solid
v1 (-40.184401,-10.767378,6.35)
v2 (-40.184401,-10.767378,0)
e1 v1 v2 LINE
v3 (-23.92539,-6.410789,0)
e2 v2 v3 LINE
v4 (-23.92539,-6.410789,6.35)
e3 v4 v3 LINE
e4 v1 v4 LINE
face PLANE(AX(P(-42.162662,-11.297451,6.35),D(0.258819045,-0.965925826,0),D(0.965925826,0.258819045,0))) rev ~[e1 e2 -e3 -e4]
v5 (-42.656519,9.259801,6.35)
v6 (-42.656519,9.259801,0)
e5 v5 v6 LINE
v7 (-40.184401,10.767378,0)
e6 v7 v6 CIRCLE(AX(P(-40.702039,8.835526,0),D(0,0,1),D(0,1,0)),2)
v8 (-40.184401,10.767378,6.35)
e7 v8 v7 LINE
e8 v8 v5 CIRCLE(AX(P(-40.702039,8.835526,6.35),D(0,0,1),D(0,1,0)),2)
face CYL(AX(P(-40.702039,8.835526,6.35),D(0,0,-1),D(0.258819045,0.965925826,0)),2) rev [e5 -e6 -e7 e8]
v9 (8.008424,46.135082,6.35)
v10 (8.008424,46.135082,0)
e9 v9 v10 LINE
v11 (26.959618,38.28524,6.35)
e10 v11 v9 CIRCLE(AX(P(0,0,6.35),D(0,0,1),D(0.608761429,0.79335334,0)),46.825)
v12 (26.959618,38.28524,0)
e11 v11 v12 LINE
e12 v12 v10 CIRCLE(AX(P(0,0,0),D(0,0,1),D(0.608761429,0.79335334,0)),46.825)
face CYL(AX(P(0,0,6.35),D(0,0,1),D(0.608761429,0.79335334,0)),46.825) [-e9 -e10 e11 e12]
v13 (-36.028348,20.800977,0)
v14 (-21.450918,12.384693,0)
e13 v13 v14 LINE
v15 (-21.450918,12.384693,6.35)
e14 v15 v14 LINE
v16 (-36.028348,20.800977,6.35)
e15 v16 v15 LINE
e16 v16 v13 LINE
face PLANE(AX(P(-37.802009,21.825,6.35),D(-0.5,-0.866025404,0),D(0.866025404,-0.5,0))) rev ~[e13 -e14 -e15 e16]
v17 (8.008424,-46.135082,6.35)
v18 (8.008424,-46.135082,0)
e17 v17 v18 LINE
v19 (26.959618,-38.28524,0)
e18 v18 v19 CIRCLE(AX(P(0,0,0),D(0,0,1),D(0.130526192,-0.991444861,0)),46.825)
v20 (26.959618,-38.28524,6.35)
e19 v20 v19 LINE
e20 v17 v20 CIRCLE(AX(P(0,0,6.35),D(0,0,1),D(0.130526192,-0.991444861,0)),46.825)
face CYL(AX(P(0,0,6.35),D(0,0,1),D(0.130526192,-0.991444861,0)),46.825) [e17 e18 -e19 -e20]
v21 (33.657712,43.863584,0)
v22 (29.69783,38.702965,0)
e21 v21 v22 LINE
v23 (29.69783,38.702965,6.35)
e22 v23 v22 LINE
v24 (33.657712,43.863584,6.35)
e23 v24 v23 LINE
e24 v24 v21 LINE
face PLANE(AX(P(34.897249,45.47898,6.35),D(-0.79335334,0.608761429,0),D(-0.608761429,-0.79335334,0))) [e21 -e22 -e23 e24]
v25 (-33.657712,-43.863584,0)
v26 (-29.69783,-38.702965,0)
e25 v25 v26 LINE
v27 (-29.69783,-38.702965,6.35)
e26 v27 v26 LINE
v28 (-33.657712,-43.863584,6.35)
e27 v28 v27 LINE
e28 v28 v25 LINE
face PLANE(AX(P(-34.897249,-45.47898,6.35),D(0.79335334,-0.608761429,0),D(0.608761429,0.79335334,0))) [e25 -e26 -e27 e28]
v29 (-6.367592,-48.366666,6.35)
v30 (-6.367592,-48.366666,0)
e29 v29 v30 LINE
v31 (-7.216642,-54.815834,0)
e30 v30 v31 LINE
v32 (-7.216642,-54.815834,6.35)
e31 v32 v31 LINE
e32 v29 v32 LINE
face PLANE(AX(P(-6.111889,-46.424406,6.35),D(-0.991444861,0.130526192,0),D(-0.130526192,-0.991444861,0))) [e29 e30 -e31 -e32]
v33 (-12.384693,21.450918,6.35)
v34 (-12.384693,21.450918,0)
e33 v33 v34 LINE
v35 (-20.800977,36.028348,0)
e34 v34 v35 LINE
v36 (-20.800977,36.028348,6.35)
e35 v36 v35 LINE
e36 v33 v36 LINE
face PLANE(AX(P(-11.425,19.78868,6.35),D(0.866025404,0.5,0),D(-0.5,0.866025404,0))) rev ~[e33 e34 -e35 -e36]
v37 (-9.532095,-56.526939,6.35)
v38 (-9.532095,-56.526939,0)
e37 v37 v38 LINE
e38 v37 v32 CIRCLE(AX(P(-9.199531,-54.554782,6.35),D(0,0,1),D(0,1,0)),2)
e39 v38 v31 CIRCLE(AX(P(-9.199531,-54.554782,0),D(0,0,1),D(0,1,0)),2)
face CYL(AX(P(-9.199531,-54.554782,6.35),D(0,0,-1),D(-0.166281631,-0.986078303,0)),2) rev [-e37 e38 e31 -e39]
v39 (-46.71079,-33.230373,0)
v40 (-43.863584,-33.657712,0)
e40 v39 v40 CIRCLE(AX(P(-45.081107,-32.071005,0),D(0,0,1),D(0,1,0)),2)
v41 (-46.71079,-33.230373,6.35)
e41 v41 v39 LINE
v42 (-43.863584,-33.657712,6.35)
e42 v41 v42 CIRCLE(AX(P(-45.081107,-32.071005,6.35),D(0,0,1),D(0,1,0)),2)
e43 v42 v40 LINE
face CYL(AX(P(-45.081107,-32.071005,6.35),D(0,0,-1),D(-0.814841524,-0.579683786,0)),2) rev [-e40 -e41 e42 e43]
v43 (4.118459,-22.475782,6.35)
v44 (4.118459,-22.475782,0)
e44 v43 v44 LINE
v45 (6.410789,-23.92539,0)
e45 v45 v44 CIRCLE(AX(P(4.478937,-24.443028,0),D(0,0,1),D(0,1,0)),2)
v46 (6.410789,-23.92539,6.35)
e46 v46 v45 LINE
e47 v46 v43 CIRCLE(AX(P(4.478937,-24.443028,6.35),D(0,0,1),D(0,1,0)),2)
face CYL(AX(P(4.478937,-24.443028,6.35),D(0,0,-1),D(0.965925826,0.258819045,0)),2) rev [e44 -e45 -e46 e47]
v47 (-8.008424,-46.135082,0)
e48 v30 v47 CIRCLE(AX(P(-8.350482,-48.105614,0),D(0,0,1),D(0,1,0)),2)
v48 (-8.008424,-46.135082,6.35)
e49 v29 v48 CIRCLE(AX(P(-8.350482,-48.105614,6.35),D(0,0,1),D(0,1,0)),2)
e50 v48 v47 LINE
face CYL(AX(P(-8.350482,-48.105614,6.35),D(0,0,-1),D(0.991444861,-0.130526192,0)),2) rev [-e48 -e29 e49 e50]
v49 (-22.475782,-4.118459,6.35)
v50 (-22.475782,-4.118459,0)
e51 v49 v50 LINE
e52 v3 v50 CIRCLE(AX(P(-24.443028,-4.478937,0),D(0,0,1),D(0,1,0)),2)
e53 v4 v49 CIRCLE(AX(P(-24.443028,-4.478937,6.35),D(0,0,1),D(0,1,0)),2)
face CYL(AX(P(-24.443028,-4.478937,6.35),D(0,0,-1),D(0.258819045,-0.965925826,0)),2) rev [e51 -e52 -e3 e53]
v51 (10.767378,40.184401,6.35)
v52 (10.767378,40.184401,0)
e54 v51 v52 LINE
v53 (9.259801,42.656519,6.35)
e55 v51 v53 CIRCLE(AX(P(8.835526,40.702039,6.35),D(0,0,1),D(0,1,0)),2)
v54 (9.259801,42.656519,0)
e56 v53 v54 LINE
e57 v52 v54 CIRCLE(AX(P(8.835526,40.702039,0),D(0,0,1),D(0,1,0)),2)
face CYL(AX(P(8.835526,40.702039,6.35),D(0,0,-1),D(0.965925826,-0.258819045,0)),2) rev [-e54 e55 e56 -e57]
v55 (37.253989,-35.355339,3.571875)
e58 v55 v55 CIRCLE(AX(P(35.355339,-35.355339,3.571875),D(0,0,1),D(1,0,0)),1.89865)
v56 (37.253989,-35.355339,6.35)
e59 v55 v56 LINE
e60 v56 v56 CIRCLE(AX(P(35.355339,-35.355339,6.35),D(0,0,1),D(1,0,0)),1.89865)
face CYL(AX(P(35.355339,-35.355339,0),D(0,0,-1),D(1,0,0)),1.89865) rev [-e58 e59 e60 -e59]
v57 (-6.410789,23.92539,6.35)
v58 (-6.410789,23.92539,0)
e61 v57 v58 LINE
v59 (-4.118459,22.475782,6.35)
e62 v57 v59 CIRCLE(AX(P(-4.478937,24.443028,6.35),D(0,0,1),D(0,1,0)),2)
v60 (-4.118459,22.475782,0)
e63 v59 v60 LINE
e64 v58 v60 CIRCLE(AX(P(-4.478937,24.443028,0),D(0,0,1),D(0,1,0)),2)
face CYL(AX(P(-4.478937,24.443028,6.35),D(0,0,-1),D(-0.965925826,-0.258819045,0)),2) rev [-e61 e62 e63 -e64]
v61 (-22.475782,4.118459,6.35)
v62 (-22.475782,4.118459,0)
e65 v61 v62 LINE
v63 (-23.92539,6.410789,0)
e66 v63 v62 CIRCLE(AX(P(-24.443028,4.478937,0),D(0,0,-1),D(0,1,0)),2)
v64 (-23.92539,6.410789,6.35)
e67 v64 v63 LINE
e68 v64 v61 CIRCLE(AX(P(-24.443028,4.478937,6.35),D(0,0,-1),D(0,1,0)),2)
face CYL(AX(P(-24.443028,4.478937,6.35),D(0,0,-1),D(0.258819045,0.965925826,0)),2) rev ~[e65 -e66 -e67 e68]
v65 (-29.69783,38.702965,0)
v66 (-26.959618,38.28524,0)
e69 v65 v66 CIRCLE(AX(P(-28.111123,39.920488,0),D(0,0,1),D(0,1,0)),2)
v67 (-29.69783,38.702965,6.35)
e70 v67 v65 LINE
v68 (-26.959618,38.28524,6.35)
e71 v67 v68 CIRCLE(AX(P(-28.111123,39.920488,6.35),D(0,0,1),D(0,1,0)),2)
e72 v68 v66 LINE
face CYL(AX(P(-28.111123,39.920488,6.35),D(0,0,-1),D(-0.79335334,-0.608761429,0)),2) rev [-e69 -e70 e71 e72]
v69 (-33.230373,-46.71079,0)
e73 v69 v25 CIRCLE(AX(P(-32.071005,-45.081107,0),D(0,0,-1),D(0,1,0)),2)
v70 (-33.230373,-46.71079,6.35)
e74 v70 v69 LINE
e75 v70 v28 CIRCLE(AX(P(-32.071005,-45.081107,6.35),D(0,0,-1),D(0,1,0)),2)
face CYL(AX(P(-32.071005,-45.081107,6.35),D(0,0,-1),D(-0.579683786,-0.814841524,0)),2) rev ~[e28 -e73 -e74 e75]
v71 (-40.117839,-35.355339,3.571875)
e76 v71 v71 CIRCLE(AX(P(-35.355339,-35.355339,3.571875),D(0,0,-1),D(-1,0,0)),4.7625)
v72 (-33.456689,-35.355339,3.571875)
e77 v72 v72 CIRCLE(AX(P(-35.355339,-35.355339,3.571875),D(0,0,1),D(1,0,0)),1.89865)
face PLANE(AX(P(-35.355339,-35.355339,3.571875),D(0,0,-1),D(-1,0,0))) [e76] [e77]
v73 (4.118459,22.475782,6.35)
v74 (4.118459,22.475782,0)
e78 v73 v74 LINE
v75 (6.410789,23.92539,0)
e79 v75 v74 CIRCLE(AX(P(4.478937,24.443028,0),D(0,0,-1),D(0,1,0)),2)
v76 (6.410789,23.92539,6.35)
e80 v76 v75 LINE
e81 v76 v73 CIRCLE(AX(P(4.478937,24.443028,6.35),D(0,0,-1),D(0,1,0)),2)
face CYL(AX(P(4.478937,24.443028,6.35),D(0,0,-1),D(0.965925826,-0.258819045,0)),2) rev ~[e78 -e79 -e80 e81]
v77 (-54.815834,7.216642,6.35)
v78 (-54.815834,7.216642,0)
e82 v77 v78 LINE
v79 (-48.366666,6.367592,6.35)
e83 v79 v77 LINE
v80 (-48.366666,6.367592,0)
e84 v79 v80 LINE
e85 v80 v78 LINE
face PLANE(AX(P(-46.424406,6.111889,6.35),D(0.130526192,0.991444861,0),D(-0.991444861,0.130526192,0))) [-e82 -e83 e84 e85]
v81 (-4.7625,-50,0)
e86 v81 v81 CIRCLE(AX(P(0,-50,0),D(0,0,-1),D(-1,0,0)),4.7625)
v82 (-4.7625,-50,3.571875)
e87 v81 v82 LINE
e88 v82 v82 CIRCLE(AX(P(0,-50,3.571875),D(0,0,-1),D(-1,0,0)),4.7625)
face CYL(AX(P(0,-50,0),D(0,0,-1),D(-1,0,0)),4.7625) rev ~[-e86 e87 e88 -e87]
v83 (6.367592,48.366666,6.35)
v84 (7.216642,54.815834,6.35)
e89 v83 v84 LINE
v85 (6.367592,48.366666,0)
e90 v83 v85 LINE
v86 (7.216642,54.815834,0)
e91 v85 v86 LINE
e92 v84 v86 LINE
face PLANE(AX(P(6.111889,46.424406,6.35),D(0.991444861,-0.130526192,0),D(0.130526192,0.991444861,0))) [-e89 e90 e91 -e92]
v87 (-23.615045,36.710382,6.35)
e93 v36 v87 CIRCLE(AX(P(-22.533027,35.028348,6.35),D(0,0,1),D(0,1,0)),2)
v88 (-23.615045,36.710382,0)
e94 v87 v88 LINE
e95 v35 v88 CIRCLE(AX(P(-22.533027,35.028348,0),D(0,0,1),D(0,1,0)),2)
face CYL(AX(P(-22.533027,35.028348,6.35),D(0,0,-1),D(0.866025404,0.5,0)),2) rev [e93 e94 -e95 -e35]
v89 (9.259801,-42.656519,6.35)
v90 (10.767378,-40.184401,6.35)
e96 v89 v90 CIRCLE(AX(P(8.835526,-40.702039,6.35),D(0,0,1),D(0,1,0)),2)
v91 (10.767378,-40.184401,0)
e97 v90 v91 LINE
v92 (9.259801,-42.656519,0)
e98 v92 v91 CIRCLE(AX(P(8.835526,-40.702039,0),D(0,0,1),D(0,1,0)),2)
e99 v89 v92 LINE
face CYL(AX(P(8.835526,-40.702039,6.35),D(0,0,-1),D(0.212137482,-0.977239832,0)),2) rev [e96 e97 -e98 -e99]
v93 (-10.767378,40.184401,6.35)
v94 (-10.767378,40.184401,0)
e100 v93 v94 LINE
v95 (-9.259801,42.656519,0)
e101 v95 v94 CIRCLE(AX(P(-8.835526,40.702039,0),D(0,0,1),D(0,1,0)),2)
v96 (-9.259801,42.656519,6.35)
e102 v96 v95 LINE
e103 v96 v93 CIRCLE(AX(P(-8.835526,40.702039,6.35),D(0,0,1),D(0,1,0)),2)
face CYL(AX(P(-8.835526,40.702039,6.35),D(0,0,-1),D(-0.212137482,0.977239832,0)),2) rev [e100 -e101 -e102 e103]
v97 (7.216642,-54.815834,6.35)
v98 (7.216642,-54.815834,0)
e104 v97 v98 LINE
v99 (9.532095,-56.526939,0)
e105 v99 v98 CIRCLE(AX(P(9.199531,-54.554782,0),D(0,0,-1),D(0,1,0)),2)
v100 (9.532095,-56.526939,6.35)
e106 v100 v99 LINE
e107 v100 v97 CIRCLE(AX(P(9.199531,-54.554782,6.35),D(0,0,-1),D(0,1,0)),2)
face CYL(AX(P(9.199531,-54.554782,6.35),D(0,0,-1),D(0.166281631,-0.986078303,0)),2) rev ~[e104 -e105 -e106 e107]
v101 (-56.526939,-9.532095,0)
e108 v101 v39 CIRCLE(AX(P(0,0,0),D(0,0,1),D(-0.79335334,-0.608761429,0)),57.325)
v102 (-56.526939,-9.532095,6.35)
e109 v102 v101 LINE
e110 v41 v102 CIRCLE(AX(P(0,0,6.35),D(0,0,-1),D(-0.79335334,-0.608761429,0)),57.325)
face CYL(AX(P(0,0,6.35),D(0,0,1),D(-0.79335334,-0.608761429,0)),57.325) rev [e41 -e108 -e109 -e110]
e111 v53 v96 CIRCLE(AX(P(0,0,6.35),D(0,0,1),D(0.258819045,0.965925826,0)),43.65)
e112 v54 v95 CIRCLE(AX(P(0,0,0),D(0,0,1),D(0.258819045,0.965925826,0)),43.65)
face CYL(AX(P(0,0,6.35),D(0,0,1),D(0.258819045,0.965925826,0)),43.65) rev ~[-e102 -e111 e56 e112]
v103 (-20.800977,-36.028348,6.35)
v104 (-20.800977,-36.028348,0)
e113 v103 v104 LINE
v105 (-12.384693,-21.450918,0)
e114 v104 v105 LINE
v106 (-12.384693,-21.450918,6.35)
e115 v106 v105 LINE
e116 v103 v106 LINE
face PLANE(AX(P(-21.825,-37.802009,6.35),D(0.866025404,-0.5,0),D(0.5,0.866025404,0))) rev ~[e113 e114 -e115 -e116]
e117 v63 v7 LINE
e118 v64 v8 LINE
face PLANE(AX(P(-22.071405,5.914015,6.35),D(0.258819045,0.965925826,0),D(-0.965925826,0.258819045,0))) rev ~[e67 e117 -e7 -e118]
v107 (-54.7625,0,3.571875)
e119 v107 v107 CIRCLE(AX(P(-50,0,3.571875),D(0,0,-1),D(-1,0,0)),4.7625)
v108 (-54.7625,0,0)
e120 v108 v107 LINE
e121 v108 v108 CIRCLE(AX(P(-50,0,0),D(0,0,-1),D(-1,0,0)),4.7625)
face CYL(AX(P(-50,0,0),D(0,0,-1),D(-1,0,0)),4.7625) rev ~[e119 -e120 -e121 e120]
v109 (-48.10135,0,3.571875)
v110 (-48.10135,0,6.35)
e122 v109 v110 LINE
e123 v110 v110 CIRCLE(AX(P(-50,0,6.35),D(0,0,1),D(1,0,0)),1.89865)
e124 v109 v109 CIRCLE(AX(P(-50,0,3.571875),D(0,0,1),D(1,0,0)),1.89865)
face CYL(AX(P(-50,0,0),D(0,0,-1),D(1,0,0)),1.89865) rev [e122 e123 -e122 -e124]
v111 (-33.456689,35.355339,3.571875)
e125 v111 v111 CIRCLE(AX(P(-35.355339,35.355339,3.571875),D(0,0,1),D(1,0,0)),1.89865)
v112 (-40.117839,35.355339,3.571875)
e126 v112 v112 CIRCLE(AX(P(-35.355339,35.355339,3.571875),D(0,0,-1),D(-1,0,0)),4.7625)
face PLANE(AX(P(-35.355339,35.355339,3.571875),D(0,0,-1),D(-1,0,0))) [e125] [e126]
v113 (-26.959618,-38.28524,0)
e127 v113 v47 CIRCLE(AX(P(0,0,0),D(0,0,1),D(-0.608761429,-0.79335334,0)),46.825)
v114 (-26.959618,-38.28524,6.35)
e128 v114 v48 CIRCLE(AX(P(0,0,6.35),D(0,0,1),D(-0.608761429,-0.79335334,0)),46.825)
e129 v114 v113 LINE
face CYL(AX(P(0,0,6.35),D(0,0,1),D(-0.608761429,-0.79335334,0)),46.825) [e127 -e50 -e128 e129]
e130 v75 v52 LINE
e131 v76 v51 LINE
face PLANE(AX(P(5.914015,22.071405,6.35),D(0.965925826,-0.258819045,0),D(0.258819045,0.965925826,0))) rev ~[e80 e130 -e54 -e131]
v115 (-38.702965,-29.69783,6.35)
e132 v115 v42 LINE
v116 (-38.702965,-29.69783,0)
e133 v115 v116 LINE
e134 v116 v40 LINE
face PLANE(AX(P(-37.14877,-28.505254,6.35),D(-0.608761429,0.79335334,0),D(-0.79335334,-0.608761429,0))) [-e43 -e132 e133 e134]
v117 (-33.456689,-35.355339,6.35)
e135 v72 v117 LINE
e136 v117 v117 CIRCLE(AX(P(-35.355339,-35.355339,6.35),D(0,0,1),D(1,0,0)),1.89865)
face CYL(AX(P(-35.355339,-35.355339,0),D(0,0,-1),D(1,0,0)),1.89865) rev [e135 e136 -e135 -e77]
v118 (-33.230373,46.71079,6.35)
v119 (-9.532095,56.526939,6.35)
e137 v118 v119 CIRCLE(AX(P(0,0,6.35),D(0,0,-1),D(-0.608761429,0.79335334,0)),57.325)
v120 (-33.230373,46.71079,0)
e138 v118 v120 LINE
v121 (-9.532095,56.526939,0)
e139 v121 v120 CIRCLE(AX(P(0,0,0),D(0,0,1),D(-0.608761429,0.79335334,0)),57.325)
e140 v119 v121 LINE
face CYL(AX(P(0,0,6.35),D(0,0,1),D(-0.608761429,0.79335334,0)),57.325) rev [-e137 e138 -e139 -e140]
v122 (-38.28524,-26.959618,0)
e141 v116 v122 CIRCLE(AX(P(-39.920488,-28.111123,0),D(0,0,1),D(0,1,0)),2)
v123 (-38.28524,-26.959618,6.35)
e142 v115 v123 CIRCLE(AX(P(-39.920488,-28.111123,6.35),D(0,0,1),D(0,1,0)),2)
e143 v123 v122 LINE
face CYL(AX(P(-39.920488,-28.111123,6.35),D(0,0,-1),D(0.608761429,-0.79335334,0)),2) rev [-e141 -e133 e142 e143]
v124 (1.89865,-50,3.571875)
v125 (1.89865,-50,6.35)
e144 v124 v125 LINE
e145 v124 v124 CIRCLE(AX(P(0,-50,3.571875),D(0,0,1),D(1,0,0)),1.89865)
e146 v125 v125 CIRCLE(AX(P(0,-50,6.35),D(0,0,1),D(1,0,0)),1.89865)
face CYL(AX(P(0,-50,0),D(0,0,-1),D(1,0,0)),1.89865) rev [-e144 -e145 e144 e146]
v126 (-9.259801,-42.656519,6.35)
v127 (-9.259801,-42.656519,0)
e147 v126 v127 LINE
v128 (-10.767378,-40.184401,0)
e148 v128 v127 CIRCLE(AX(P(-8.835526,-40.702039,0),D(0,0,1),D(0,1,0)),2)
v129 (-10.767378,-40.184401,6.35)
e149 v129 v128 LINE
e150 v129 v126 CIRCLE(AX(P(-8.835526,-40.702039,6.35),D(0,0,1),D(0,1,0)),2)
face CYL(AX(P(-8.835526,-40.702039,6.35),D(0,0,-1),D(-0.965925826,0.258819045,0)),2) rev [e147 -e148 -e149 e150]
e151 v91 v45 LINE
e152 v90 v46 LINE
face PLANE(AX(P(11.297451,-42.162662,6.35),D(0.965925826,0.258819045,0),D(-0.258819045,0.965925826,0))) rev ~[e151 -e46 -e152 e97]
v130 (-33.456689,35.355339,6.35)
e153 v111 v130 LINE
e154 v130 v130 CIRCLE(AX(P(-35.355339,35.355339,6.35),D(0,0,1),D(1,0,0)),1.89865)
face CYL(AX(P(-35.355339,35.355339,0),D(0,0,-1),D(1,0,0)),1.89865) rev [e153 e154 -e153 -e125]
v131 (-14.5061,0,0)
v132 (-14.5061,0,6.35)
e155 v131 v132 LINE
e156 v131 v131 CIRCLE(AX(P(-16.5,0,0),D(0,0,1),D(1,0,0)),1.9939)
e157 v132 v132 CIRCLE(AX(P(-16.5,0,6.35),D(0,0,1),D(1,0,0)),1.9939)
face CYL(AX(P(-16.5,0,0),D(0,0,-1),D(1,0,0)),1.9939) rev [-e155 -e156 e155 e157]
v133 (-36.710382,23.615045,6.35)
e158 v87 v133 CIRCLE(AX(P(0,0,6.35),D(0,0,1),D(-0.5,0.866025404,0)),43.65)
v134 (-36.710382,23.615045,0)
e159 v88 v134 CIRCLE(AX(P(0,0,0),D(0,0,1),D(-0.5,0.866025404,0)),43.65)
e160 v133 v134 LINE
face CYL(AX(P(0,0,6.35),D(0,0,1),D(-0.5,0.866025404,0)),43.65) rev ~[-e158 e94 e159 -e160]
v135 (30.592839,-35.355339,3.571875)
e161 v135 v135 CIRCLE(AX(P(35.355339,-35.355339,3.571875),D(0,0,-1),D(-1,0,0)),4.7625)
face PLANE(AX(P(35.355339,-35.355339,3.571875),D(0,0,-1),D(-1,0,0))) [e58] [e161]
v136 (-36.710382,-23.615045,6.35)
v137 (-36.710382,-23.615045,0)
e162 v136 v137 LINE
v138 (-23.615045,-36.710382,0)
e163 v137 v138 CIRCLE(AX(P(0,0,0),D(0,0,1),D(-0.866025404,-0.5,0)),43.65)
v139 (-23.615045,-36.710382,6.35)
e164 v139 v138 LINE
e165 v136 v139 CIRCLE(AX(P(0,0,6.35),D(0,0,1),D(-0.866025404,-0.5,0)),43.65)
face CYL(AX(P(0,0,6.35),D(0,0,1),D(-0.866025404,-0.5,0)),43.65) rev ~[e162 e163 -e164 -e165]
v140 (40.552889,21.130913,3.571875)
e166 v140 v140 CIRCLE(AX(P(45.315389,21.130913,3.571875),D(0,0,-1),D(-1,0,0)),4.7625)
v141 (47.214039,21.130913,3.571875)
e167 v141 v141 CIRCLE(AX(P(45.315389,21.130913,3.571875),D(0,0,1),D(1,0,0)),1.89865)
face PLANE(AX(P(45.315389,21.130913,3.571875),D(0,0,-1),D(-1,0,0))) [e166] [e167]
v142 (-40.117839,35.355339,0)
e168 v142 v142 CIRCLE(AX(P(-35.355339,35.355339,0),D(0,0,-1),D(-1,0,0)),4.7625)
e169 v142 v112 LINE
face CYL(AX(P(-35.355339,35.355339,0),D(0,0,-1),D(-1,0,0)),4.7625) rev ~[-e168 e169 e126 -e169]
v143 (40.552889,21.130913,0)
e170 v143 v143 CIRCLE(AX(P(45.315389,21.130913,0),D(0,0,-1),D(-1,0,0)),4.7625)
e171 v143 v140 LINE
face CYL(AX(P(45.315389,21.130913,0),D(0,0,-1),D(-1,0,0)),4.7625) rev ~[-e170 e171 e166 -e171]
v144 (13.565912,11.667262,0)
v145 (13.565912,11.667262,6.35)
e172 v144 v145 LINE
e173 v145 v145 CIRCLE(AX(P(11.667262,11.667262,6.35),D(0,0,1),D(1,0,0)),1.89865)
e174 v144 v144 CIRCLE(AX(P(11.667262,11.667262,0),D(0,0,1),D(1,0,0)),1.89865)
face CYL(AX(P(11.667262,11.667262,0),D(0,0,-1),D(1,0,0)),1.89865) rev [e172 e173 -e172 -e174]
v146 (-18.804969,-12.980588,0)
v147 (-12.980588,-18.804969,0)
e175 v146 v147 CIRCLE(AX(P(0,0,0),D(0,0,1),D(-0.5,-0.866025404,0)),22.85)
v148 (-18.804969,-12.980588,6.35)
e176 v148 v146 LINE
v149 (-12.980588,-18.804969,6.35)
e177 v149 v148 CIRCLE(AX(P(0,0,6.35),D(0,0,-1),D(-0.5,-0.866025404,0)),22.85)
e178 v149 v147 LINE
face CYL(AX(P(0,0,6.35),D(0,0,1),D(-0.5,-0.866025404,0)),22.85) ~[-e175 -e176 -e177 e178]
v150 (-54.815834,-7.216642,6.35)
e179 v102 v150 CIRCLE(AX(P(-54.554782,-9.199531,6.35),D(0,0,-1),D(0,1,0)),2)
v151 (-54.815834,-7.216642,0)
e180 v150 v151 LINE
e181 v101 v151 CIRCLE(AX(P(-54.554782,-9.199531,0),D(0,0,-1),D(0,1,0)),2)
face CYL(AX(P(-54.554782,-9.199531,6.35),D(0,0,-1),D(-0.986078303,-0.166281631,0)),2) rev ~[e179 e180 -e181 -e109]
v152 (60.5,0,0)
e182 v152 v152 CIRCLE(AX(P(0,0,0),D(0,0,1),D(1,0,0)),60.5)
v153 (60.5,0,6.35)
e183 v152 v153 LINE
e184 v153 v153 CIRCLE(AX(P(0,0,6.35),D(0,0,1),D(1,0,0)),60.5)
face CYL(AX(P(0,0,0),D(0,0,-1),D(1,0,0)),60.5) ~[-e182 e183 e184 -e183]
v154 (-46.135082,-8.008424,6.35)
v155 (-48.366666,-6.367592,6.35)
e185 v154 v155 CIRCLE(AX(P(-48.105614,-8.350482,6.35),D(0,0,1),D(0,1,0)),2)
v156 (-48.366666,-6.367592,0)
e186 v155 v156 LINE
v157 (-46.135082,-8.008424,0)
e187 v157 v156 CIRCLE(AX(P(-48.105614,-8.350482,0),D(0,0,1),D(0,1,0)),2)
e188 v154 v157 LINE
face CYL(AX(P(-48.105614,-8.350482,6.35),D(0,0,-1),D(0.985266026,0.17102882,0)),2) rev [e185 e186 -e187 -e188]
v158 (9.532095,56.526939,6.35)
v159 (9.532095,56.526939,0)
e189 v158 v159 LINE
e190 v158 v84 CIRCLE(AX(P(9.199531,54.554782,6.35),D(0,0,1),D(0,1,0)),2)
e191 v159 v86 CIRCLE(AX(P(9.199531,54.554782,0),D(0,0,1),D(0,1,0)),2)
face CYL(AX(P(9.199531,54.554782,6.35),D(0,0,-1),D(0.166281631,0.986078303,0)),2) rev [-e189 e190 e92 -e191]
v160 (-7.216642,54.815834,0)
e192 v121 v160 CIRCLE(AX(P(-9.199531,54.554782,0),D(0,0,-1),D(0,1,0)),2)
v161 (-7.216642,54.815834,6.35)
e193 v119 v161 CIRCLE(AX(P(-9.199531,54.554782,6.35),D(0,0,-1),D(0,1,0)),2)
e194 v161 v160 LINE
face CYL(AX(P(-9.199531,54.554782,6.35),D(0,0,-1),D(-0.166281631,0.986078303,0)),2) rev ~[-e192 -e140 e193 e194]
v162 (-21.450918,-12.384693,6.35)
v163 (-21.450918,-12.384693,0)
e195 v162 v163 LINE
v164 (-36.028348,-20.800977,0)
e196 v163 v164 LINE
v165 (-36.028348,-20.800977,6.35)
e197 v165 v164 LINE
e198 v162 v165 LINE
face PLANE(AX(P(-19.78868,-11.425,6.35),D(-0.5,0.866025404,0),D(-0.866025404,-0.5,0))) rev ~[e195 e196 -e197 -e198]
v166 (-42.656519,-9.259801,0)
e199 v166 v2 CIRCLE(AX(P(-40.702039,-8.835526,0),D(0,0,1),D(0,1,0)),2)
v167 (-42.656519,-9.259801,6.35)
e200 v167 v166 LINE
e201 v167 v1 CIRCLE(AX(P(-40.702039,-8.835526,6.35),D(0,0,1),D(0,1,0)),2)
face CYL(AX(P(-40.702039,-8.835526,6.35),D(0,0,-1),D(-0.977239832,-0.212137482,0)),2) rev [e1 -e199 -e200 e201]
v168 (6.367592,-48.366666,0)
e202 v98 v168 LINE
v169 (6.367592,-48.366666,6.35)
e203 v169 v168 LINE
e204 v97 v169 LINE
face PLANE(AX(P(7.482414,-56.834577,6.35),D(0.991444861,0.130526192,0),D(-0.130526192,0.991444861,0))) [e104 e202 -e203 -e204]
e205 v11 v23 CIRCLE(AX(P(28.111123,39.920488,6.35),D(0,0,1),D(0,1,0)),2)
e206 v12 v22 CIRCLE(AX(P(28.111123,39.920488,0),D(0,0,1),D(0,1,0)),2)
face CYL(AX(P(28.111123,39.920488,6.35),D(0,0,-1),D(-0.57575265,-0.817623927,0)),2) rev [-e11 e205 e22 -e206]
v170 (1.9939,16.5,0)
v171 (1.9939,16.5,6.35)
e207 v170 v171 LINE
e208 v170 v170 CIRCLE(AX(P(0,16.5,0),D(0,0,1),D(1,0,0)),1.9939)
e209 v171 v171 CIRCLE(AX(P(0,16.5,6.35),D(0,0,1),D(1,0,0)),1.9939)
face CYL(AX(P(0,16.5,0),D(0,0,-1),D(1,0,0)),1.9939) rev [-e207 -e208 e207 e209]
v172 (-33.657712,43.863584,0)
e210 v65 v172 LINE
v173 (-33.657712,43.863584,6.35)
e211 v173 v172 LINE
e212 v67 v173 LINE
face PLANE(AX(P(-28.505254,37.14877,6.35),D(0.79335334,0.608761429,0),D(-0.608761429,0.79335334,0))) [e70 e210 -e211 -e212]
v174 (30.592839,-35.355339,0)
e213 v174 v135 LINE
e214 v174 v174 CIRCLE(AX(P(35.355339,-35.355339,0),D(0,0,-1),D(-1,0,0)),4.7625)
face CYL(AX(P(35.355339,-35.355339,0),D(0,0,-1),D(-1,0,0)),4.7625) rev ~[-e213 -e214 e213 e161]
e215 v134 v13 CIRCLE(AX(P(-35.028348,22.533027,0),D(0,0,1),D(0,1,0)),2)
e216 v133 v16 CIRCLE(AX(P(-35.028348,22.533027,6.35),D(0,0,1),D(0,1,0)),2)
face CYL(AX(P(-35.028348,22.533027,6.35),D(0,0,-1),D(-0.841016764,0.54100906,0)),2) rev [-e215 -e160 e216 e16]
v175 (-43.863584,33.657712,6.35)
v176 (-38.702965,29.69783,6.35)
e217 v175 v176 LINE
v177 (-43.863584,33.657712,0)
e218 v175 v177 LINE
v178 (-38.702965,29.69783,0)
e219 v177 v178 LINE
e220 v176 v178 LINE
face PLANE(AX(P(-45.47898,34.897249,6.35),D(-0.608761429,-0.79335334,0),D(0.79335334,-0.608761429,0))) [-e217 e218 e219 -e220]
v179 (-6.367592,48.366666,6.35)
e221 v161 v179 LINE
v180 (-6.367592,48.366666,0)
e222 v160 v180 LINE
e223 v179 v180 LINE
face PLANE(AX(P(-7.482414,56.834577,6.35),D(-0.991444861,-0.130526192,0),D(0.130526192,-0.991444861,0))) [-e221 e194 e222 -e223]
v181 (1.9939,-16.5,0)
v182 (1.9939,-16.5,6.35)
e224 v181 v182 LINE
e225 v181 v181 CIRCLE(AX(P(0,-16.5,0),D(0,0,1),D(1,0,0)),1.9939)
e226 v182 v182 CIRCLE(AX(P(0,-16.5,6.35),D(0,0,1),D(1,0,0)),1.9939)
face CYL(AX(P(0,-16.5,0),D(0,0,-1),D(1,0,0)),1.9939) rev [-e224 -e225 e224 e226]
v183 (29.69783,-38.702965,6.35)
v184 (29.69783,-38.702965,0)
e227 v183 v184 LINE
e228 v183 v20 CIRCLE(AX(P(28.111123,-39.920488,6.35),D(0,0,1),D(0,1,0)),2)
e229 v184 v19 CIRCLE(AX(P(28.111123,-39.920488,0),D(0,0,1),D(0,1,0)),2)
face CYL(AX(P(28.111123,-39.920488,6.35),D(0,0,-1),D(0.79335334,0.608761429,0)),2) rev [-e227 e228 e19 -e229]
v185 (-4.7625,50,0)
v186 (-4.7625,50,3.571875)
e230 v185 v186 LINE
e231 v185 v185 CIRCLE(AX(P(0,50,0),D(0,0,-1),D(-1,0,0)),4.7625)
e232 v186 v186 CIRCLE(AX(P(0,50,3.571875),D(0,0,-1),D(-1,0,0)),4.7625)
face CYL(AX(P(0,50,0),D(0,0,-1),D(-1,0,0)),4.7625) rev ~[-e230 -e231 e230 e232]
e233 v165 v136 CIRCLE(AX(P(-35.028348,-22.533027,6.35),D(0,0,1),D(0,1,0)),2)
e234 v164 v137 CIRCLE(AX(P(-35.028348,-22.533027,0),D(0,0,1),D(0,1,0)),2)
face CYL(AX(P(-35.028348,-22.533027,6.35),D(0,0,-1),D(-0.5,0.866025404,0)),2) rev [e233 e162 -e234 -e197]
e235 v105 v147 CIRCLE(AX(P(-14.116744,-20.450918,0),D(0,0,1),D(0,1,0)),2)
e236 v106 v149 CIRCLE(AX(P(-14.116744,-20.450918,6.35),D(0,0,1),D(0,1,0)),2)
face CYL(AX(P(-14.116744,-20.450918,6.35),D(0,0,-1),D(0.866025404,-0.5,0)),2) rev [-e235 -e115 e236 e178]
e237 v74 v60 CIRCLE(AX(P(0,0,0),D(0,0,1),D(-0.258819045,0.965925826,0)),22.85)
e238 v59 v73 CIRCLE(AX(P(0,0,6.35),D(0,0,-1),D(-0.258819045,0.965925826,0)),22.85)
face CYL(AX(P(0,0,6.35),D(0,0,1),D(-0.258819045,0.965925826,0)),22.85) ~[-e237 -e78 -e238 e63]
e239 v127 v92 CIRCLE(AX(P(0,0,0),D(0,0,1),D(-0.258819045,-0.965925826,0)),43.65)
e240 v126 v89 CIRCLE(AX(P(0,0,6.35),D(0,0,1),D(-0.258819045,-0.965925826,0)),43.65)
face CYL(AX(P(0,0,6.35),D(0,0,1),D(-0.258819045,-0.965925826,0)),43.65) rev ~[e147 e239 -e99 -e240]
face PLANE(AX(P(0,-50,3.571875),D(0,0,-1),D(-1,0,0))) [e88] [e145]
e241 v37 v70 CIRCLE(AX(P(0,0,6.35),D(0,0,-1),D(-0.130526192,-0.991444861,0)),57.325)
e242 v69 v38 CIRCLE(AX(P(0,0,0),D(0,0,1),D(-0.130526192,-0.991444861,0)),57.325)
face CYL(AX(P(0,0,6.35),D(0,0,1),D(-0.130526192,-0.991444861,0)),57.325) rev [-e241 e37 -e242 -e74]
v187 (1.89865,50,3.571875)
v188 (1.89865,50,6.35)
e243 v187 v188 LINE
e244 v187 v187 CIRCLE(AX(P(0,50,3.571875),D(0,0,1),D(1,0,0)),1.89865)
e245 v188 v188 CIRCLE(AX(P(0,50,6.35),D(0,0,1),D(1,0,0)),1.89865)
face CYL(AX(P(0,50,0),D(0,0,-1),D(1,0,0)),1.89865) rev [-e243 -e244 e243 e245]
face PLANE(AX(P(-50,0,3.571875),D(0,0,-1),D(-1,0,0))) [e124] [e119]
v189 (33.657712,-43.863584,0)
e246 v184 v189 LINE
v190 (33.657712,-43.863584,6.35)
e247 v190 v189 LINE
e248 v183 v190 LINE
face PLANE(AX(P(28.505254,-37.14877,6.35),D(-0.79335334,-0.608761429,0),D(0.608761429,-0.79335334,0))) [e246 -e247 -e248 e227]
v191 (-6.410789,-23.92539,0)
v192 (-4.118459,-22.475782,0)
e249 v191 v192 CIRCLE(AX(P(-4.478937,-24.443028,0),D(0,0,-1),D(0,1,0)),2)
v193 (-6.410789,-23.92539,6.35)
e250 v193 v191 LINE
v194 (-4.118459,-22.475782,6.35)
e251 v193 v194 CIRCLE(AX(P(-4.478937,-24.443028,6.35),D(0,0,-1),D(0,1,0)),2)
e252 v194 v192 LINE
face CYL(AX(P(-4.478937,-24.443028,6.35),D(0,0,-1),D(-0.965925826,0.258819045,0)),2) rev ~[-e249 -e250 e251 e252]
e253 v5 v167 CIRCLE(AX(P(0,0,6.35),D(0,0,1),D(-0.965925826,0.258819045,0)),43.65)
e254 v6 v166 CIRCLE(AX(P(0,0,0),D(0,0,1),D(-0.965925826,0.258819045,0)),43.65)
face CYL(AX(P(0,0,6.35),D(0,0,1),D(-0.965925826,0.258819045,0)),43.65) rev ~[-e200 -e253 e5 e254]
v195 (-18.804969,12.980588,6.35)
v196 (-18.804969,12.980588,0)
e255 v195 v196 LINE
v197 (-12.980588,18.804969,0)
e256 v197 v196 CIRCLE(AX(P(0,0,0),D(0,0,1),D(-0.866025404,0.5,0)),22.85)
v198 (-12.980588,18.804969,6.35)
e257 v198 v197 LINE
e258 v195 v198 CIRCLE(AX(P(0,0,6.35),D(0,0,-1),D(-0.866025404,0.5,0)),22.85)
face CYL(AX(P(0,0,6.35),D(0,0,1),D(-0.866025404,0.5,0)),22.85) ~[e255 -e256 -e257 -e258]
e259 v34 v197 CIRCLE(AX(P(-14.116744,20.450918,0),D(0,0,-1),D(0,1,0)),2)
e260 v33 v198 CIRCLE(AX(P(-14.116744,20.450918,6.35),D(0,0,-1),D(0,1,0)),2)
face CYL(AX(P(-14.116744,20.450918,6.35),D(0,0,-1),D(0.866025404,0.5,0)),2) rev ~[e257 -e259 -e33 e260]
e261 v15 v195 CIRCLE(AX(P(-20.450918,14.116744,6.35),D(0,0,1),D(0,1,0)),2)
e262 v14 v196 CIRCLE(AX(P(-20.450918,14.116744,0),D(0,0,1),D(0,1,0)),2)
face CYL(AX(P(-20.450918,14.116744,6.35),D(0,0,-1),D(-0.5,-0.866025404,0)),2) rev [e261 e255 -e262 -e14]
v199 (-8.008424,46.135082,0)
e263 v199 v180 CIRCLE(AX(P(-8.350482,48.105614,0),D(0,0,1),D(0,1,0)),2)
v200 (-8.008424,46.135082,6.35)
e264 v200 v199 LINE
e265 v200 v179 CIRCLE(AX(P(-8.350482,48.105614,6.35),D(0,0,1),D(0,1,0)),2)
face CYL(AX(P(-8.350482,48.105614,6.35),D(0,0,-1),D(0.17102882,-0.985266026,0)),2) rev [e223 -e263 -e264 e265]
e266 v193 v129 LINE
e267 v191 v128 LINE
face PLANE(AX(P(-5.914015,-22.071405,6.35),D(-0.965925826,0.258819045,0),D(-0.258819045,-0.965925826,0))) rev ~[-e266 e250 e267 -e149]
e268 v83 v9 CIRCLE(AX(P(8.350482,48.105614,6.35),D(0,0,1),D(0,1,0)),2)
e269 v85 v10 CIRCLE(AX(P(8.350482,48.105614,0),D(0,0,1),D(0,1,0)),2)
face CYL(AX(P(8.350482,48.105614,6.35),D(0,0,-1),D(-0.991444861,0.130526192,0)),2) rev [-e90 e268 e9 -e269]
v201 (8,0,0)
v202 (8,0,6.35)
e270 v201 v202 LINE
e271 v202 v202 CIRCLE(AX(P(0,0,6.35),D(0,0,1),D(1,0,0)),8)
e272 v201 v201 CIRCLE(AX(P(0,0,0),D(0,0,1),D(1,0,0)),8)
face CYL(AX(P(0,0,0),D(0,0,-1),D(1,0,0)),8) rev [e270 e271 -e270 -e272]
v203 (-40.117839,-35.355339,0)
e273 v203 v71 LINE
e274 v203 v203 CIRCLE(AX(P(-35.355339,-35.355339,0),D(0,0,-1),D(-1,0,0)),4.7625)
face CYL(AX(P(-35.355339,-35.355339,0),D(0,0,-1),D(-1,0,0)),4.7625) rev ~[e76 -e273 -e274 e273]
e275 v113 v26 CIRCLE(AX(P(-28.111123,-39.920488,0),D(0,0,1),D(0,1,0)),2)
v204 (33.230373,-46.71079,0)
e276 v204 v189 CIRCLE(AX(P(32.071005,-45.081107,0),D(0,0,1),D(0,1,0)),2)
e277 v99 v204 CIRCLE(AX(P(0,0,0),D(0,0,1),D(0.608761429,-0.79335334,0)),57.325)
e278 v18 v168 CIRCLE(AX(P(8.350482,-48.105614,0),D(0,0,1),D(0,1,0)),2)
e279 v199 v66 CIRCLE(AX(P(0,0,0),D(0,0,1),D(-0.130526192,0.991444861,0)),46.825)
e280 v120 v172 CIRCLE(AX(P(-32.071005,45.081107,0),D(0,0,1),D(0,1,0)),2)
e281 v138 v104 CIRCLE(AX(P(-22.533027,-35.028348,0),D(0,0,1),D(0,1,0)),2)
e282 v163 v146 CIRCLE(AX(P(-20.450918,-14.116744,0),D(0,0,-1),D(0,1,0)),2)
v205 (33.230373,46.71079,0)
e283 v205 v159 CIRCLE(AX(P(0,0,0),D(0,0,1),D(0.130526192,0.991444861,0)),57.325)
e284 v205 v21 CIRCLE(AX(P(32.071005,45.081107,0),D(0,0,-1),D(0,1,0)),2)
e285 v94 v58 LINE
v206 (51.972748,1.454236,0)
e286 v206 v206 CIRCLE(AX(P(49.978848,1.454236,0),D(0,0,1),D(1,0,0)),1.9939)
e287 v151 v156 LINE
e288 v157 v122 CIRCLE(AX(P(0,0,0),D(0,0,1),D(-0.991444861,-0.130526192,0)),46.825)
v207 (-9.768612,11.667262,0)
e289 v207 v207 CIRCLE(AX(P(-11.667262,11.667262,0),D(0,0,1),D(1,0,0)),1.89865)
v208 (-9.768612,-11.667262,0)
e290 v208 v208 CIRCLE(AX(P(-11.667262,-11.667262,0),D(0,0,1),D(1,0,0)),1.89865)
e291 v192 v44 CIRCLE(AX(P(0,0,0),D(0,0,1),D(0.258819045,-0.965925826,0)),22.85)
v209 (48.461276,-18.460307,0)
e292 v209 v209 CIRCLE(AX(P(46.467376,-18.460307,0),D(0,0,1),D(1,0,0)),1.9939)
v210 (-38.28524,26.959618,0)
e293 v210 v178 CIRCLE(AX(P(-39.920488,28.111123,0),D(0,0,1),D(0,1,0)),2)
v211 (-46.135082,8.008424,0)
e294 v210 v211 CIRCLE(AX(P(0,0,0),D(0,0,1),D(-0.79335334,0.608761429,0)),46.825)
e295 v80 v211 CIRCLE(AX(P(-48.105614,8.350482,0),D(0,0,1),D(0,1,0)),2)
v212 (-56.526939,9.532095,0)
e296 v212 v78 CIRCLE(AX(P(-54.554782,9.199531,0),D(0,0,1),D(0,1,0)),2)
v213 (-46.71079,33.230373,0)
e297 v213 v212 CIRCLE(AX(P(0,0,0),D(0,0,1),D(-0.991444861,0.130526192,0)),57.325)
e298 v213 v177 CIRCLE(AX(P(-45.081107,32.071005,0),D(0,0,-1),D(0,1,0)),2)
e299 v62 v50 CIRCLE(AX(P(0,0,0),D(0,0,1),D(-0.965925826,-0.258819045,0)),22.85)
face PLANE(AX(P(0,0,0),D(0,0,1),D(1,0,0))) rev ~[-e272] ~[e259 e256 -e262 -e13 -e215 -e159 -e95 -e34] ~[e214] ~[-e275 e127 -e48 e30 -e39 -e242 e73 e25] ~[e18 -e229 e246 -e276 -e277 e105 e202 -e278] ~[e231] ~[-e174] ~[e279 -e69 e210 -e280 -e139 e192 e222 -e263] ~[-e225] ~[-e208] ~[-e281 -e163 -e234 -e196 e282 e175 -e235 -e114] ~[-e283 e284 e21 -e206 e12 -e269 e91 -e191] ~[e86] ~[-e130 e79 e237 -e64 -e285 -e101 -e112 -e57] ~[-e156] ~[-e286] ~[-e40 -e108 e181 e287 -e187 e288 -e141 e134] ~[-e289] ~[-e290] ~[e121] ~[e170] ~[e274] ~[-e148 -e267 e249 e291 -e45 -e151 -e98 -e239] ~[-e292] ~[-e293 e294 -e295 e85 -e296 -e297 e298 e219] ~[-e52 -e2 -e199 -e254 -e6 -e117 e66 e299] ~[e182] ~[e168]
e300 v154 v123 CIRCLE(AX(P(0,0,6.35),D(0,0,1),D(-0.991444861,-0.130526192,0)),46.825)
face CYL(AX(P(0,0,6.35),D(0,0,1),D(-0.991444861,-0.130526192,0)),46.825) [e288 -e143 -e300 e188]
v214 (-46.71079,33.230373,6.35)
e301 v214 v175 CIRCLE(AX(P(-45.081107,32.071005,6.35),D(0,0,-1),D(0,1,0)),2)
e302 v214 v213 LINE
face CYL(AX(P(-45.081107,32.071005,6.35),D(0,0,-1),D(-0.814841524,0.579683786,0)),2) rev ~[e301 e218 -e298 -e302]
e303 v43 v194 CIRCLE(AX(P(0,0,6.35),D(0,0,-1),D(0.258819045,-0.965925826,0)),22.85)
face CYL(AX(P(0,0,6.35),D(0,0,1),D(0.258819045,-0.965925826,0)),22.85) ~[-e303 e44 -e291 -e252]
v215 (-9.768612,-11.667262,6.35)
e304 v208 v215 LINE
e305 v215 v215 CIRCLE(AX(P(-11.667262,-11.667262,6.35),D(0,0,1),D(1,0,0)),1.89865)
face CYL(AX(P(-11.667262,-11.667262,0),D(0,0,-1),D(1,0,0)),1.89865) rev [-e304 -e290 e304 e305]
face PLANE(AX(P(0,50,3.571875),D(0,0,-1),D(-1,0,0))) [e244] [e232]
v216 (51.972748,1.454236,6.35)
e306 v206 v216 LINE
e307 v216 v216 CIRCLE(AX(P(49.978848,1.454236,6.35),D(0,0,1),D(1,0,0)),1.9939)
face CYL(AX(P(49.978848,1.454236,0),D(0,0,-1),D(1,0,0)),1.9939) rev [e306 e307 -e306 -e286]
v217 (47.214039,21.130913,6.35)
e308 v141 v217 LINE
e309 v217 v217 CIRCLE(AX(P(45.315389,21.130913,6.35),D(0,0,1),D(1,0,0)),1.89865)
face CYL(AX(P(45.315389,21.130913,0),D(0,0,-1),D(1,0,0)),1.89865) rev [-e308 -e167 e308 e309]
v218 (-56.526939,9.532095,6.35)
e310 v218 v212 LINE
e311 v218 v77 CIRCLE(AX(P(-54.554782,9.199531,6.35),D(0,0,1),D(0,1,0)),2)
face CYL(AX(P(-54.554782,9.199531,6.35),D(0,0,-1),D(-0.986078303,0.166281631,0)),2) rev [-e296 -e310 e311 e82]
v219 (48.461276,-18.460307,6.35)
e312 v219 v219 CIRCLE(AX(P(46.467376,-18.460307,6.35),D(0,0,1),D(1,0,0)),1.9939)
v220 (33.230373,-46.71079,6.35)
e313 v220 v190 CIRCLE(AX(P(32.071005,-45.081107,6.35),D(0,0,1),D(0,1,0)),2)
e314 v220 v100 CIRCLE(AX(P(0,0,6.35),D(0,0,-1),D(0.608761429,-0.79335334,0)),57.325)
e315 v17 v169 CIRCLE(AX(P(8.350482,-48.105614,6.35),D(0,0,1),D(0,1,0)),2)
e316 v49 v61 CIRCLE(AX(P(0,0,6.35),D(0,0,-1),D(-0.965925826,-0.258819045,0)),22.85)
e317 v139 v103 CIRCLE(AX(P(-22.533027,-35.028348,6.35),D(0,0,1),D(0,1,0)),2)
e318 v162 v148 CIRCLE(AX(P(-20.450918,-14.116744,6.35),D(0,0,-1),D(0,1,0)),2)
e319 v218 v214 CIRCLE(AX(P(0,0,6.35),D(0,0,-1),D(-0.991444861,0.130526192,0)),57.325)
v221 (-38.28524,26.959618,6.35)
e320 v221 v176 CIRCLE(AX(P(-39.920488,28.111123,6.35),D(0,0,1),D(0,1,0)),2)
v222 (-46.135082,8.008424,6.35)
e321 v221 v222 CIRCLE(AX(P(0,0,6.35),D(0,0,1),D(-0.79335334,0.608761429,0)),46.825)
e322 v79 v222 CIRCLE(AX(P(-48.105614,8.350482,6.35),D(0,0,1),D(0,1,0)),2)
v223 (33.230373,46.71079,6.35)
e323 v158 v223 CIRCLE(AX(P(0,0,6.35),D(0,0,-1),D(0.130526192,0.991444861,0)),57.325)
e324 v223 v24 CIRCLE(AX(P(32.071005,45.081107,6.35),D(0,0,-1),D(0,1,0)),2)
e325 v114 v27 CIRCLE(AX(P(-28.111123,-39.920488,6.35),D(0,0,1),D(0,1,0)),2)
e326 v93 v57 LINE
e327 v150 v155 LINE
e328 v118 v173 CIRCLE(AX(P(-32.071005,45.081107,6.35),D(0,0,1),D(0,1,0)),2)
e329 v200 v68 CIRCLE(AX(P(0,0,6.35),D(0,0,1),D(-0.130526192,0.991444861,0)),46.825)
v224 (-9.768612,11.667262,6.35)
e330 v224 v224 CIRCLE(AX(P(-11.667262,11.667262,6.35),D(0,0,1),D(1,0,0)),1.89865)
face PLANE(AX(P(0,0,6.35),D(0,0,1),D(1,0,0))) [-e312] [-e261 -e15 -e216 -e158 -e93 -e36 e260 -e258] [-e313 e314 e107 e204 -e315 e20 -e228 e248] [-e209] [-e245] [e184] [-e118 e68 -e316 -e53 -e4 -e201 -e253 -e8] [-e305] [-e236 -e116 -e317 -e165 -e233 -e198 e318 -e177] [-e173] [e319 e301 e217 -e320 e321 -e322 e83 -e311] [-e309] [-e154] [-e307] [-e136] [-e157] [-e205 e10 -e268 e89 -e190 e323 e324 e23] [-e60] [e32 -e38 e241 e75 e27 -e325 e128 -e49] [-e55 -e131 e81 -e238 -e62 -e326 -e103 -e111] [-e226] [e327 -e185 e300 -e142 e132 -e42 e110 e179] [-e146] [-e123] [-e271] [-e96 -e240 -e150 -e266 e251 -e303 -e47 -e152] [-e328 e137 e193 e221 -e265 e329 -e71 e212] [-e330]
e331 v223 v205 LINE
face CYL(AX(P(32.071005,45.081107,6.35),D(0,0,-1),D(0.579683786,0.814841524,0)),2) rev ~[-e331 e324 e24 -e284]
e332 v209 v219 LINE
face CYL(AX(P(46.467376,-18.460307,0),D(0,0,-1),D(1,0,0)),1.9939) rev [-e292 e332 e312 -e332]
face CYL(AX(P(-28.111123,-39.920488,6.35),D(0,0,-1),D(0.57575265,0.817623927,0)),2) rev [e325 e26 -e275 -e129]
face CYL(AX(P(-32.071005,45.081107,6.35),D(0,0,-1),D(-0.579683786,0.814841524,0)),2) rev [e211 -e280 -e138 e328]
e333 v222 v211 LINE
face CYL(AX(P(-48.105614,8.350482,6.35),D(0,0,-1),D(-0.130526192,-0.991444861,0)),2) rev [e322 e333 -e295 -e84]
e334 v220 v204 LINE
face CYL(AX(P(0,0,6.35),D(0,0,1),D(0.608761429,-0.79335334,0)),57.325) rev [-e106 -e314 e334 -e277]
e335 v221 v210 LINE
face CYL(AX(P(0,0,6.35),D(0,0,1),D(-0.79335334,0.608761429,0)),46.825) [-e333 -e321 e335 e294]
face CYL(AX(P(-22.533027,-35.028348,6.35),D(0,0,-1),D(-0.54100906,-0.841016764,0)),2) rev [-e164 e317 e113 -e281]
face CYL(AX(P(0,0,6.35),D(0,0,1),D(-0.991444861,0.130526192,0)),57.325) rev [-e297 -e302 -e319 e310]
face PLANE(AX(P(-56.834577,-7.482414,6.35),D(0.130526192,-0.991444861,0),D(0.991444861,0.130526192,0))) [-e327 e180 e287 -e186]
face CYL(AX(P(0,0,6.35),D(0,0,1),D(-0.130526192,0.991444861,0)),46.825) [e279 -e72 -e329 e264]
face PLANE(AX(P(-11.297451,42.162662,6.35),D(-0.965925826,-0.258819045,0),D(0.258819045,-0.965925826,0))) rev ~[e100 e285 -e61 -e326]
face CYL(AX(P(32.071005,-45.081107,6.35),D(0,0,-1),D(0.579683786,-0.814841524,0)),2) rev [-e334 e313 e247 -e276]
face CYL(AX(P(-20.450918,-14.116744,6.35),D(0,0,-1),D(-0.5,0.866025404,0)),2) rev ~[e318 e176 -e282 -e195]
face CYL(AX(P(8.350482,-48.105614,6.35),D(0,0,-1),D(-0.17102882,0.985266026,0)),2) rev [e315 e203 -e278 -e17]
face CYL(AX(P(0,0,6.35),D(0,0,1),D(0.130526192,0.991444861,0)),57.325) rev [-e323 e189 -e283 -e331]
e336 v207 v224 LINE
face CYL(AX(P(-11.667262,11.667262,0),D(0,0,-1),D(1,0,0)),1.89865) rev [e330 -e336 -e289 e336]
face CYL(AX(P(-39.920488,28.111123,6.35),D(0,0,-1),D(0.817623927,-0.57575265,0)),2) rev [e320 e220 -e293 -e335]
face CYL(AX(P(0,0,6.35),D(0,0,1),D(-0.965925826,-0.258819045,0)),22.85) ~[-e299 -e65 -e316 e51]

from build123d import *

# Parameters (mm, degrees)
SKETCH1_R                = 60.5
SKETCH1_R_2              = 1.89865
SKETCH1_R_3              = 1.9939
SKETCH1_R_4              = 8
BOSS_EXTRUDE1_DEPTH      = 6.35
CUT_EXTRUDE1_DEPTH       = 86.795235882
FILLET1_R                = 2
CIRPATTERN1_COUNT        = 8
FILLET1_OF_CIRPATTERN1_R = 2
CUT_EXTRUDE2_DEPTH       = 86.795235882
FILLET2_R                = 2
CIRPATTERN3_COUNT        = 8
FILLET2_OF_CIRPATTERN3_R = 2
SKETCH4_R                = 4.7625
SKETCH4_R_2              = 1.89865
CUT_EXTRUDE3_DEPTH       = 3.571875


with BuildPart() as part:
    # Sketch1 → Boss-Extrude1 (new body)
    with BuildSketch(Plane.XY):
        Circle(SKETCH1_R)
        with Locations((45.315389352, 21.130913087)):
            Circle(SKETCH1_R_2, mode=Mode.SUBTRACT)
        with Locations((49.978847504, 1.454235937)):
            Circle(SKETCH1_R_3, mode=Mode.SUBTRACT)
        Circle(SKETCH1_R_4, mode=Mode.SUBTRACT)
        with Locations((46.467376211, -18.460307366)):
            Circle(SKETCH1_R_3, mode=Mode.SUBTRACT)
        with Locations((0, -16.5)):
            Circle(SKETCH1_R_3, mode=Mode.SUBTRACT)
        with Locations((0, -50)):
            Circle(SKETCH1_R_2, mode=Mode.SUBTRACT)
        with Locations((-16.5, 0)):
            Circle(SKETCH1_R_3, mode=Mode.SUBTRACT)
        with Locations((-11.66726189, -11.66726189)):
            Circle(SKETCH1_R_2, mode=Mode.SUBTRACT)
        with Locations((0, 16.5)):
            Circle(SKETCH1_R_3, mode=Mode.SUBTRACT)
        with Locations((-11.66726189, 11.66726189)):
            Circle(SKETCH1_R_2, mode=Mode.SUBTRACT)
        with Locations((11.66726189, 11.66726189)):
            Circle(SKETCH1_R_2, mode=Mode.SUBTRACT)
        with Locations((-35.355339059, -35.355339059)):
            Circle(SKETCH1_R_2, mode=Mode.SUBTRACT)
        with Locations((-50, 0)):
            Circle(SKETCH1_R_2, mode=Mode.SUBTRACT)
        with Locations((-35.355339059, 35.355339059)):
            Circle(SKETCH1_R_2, mode=Mode.SUBTRACT)
        with Locations((0, 50)):
            Circle(SKETCH1_R_2, mode=Mode.SUBTRACT)
        with Locations((35.355339059, -35.355339059)):
            Circle(SKETCH1_R_2, mode=Mode.SUBTRACT)
    extrude(amount=BOSS_EXTRUDE1_DEPTH)

    # Sketch2 → Cut-Extrude1 (cut, through all)
    with BuildSketch(Plane.XY.offset(6.35)):
        with BuildLine():
            Line((-22.071405131, 5.914015181), (-42.162662318, 11.297451319))
            ThreePointArc((-42.162662318, 11.297451319), (-43.65, 0), (-42.162662318, -11.297451319))
            Line((-42.162662318, -11.297451319), (-22.071405131, -5.914015181))
            ThreePointArc((-22.071405131, -5.914015181), (-22.85, 0), (-22.071405131, 5.914015181))
        make_face()
    cut_extrude1 = extrude(amount=-CUT_EXTRUDE1_DEPTH, mode=Mode.SUBTRACT)

    # Fillet1
    fillet1_edges = [part.edges().sort_by_distance(p)[0] for p in [
        (-42.162662318, -11.297451319, 3.175),
        (-42.162662318, 11.297451319, 3.175),
        (-22.071405131, 5.914015181, 3.175),
        (-22.071405131, -5.914015181, 3.175),
    ]]
    fillet(fillet1_edges, radius=FILLET1_R)

    # CirPattern1: Cut-Extrude1 ×8 about axis, 3 skipped
    cirpattern1_axis = Axis((0, 0, 0), (0, 0, -1))
    add([cut_extrude1.rotate(cirpattern1_axis, i * 360 / CIRPATTERN1_COUNT) for i in range(1, CIRPATTERN1_COUNT) if i not in (3, 4, 5)], mode=Mode.SUBTRACT)

    # Fillet1 of CirPattern1
    fillet1_of_cirpattern1_edges = [part.edges().sort_by_distance(p)[0] for p in [
        (-37.802008875, 21.825, 3.175),
        (-21.825, 37.802008875, 3.175),
        (-11.425, 19.788680476, 3.175),
        (-19.788680476, 11.425, 3.175),
        (-11.297451319, 42.162662318, 3.175),
        (11.297451319, 42.162662318, 3.175),
        (5.914015181, 22.071405131, 3.175),
        (-5.914015181, 22.071405131, 3.175),
        (11.297451319, -42.162662318, 3.175),
        (-11.297451319, -42.162662318, 3.175),
        (-5.914015181, -22.071405131, 3.175),
        (5.914015181, -22.071405131, 3.175),
        (-21.825, -37.802008875, 3.175),
        (-37.802008875, -21.825, 3.175),
        (-19.788680476, -11.425, 3.175),
        (-11.425, -19.788680476, 3.175),
    ]]
    fillet(fillet1_of_cirpattern1_edges, radius=FILLET1_OF_CIRPATTERN1_R)

    # Sketch3 → Cut-Extrude2 (cut, through all)
    with BuildSketch(Plane.XY.offset(6.35)):
        with BuildLine():
            Line((-45.478980232, 34.897248918), (-37.148770159, 28.505253913))
            ThreePointArc((-37.148770159, 28.505253913), (-43.26065911, 17.91915172), (-46.424405634, 6.111888951))
            Line((-46.424405634, 6.111888951), (-56.834576678, 7.482413969))
            ThreePointArc((-56.834576678, 7.482413969), (-52.961394201, 21.93732776), (-45.478980232, 34.897248918))
        make_face()
    cut_extrude2 = extrude(amount=-CUT_EXTRUDE2_DEPTH, mode=Mode.SUBTRACT)

    # Fillet2
    fillet2_edges = [part.edges().sort_by_distance(p)[0] for p in [
        (-56.834576678, 7.482413969, 3.175),
        (-45.478980232, 34.897248918, 3.175),
        (-37.148770159, 28.505253913, 3.175),
        (-46.424405634, 6.111888951, 3.175),
    ]]
    fillet(fillet2_edges, radius=FILLET2_R)

    # CirPattern3: Cut-Extrude2 ×8 about axis, 2 skipped
    cirpattern3_axis = Axis((0, 0, 0), (0, 0, -1))
    add([cut_extrude2.rotate(cirpattern3_axis, i * 360 / CIRPATTERN3_COUNT) for i in range(1, CIRPATTERN3_COUNT) if i not in (3, 4)], mode=Mode.SUBTRACT)

    # Fillet2 of CirPattern3
    fillet2_of_cirpattern3_edges = [part.edges().sort_by_distance(p)[0] for p in [
        (-34.897248918, 45.478980232, 3.175),
        (-7.482413969, 56.834576678, 3.175),
        (-6.111888951, 46.424405634, 3.175),
        (-28.505253913, 37.148770159, 3.175),
        (7.482413969, 56.834576678, 3.175),
        (34.897248918, 45.478980232, 3.175),
        (28.505253913, 37.148770159, 3.175),
        (6.111888951, 46.424405634, 3.175),
        (34.897248918, -45.478980232, 3.175),
        (7.482413969, -56.834576678, 3.175),
        (6.111888951, -46.424405634, 3.175),
        (28.505253913, -37.148770159, 3.175),
        (-7.482413969, -56.834576678, 3.175),
        (-34.897248918, -45.478980232, 3.175),
        (-28.505253913, -37.148770159, 3.175),
        (-6.111888951, -46.424405634, 3.175),
        (-45.478980232, -34.897248918, 3.175),
        (-56.834576678, -7.482413969, 3.175),
        (-46.424405634, -6.111888951, 3.175),
        (-37.148770159, -28.505253913, 3.175),
    ]]
    fillet(fillet2_of_cirpattern3_edges, radius=FILLET2_OF_CIRPATTERN3_R)

    # Sketch4 → Cut-Extrude3 (cut)
    # profile 1 of 7: a face of its own
    with BuildSketch(Plane(origin=(0, 0, 0), x_dir=(-1, 0, 0), z_dir=(0, 0, -1))):
        with Locations((0, 50)):
            Circle(SKETCH4_R)
        with Locations((0, 50)):
            Circle(SKETCH4_R_2, mode=Mode.SUBTRACT)
    # profile 2 of 7: a face of its own
    with BuildSketch(Plane(origin=(0, 0, 0), x_dir=(-1, 0, 0), z_dir=(0, 0, -1))):
        with Locations((35.355339059, 35.355339059)):
            Circle(SKETCH4_R)
        with Locations((35.355339059, 35.355339059)):
            Circle(SKETCH4_R_2, mode=Mode.SUBTRACT)
    # profile 3 of 7: a face of its own
    with BuildSketch(Plane(origin=(0, 0, 0), x_dir=(-1, 0, 0), z_dir=(0, 0, -1))):
        with Locations((50, 0)):
            Circle(SKETCH4_R)
        with Locations((50, 0)):
            Circle(SKETCH4_R_2, mode=Mode.SUBTRACT)
    # profile 4 of 7: a face of its own
    with BuildSketch(Plane(origin=(0, 0, 0), x_dir=(-1, 0, 0), z_dir=(0, 0, -1))):
        with Locations((35.355339059, -35.355339059)):
            Circle(SKETCH4_R)
        with Locations((35.355339059, -35.355339059)):
            Circle(SKETCH4_R_2, mode=Mode.SUBTRACT)
    # profile 5 of 7: a face of its own
    with BuildSketch(Plane(origin=(0, 0, 0), x_dir=(-1, 0, 0), z_dir=(0, 0, -1))):
        with Locations((0, -50)):
            Circle(SKETCH4_R)
        with Locations((0, -50)):
            Circle(SKETCH4_R_2, mode=Mode.SUBTRACT)
    # profile 6 of 7: a face of its own
    with BuildSketch(Plane(origin=(0, 0, 0), x_dir=(-1, 0, 0), z_dir=(0, 0, -1))):
        with Locations((-35.355339059, -35.355339059)):
            Circle(SKETCH4_R)
        with Locations((-35.355339059, -35.355339059)):
            Circle(SKETCH4_R_2, mode=Mode.SUBTRACT)
    # profile 7 of 7: a face of its own
    with BuildSketch(Plane(origin=(0, 0, 0), x_dir=(-1, 0, 0), z_dir=(0, 0, -1))):
        with Locations((-45.315389352, 21.130913087)):
            Circle(SKETCH4_R)
        with Locations((-45.315389352, 21.130913087)):
            Circle(SKETCH4_R_2, mode=Mode.SUBTRACT)
    extrude(amount=-CUT_EXTRUDE3_DEPTH, mode=Mode.SUBTRACT)


solid = part.part
